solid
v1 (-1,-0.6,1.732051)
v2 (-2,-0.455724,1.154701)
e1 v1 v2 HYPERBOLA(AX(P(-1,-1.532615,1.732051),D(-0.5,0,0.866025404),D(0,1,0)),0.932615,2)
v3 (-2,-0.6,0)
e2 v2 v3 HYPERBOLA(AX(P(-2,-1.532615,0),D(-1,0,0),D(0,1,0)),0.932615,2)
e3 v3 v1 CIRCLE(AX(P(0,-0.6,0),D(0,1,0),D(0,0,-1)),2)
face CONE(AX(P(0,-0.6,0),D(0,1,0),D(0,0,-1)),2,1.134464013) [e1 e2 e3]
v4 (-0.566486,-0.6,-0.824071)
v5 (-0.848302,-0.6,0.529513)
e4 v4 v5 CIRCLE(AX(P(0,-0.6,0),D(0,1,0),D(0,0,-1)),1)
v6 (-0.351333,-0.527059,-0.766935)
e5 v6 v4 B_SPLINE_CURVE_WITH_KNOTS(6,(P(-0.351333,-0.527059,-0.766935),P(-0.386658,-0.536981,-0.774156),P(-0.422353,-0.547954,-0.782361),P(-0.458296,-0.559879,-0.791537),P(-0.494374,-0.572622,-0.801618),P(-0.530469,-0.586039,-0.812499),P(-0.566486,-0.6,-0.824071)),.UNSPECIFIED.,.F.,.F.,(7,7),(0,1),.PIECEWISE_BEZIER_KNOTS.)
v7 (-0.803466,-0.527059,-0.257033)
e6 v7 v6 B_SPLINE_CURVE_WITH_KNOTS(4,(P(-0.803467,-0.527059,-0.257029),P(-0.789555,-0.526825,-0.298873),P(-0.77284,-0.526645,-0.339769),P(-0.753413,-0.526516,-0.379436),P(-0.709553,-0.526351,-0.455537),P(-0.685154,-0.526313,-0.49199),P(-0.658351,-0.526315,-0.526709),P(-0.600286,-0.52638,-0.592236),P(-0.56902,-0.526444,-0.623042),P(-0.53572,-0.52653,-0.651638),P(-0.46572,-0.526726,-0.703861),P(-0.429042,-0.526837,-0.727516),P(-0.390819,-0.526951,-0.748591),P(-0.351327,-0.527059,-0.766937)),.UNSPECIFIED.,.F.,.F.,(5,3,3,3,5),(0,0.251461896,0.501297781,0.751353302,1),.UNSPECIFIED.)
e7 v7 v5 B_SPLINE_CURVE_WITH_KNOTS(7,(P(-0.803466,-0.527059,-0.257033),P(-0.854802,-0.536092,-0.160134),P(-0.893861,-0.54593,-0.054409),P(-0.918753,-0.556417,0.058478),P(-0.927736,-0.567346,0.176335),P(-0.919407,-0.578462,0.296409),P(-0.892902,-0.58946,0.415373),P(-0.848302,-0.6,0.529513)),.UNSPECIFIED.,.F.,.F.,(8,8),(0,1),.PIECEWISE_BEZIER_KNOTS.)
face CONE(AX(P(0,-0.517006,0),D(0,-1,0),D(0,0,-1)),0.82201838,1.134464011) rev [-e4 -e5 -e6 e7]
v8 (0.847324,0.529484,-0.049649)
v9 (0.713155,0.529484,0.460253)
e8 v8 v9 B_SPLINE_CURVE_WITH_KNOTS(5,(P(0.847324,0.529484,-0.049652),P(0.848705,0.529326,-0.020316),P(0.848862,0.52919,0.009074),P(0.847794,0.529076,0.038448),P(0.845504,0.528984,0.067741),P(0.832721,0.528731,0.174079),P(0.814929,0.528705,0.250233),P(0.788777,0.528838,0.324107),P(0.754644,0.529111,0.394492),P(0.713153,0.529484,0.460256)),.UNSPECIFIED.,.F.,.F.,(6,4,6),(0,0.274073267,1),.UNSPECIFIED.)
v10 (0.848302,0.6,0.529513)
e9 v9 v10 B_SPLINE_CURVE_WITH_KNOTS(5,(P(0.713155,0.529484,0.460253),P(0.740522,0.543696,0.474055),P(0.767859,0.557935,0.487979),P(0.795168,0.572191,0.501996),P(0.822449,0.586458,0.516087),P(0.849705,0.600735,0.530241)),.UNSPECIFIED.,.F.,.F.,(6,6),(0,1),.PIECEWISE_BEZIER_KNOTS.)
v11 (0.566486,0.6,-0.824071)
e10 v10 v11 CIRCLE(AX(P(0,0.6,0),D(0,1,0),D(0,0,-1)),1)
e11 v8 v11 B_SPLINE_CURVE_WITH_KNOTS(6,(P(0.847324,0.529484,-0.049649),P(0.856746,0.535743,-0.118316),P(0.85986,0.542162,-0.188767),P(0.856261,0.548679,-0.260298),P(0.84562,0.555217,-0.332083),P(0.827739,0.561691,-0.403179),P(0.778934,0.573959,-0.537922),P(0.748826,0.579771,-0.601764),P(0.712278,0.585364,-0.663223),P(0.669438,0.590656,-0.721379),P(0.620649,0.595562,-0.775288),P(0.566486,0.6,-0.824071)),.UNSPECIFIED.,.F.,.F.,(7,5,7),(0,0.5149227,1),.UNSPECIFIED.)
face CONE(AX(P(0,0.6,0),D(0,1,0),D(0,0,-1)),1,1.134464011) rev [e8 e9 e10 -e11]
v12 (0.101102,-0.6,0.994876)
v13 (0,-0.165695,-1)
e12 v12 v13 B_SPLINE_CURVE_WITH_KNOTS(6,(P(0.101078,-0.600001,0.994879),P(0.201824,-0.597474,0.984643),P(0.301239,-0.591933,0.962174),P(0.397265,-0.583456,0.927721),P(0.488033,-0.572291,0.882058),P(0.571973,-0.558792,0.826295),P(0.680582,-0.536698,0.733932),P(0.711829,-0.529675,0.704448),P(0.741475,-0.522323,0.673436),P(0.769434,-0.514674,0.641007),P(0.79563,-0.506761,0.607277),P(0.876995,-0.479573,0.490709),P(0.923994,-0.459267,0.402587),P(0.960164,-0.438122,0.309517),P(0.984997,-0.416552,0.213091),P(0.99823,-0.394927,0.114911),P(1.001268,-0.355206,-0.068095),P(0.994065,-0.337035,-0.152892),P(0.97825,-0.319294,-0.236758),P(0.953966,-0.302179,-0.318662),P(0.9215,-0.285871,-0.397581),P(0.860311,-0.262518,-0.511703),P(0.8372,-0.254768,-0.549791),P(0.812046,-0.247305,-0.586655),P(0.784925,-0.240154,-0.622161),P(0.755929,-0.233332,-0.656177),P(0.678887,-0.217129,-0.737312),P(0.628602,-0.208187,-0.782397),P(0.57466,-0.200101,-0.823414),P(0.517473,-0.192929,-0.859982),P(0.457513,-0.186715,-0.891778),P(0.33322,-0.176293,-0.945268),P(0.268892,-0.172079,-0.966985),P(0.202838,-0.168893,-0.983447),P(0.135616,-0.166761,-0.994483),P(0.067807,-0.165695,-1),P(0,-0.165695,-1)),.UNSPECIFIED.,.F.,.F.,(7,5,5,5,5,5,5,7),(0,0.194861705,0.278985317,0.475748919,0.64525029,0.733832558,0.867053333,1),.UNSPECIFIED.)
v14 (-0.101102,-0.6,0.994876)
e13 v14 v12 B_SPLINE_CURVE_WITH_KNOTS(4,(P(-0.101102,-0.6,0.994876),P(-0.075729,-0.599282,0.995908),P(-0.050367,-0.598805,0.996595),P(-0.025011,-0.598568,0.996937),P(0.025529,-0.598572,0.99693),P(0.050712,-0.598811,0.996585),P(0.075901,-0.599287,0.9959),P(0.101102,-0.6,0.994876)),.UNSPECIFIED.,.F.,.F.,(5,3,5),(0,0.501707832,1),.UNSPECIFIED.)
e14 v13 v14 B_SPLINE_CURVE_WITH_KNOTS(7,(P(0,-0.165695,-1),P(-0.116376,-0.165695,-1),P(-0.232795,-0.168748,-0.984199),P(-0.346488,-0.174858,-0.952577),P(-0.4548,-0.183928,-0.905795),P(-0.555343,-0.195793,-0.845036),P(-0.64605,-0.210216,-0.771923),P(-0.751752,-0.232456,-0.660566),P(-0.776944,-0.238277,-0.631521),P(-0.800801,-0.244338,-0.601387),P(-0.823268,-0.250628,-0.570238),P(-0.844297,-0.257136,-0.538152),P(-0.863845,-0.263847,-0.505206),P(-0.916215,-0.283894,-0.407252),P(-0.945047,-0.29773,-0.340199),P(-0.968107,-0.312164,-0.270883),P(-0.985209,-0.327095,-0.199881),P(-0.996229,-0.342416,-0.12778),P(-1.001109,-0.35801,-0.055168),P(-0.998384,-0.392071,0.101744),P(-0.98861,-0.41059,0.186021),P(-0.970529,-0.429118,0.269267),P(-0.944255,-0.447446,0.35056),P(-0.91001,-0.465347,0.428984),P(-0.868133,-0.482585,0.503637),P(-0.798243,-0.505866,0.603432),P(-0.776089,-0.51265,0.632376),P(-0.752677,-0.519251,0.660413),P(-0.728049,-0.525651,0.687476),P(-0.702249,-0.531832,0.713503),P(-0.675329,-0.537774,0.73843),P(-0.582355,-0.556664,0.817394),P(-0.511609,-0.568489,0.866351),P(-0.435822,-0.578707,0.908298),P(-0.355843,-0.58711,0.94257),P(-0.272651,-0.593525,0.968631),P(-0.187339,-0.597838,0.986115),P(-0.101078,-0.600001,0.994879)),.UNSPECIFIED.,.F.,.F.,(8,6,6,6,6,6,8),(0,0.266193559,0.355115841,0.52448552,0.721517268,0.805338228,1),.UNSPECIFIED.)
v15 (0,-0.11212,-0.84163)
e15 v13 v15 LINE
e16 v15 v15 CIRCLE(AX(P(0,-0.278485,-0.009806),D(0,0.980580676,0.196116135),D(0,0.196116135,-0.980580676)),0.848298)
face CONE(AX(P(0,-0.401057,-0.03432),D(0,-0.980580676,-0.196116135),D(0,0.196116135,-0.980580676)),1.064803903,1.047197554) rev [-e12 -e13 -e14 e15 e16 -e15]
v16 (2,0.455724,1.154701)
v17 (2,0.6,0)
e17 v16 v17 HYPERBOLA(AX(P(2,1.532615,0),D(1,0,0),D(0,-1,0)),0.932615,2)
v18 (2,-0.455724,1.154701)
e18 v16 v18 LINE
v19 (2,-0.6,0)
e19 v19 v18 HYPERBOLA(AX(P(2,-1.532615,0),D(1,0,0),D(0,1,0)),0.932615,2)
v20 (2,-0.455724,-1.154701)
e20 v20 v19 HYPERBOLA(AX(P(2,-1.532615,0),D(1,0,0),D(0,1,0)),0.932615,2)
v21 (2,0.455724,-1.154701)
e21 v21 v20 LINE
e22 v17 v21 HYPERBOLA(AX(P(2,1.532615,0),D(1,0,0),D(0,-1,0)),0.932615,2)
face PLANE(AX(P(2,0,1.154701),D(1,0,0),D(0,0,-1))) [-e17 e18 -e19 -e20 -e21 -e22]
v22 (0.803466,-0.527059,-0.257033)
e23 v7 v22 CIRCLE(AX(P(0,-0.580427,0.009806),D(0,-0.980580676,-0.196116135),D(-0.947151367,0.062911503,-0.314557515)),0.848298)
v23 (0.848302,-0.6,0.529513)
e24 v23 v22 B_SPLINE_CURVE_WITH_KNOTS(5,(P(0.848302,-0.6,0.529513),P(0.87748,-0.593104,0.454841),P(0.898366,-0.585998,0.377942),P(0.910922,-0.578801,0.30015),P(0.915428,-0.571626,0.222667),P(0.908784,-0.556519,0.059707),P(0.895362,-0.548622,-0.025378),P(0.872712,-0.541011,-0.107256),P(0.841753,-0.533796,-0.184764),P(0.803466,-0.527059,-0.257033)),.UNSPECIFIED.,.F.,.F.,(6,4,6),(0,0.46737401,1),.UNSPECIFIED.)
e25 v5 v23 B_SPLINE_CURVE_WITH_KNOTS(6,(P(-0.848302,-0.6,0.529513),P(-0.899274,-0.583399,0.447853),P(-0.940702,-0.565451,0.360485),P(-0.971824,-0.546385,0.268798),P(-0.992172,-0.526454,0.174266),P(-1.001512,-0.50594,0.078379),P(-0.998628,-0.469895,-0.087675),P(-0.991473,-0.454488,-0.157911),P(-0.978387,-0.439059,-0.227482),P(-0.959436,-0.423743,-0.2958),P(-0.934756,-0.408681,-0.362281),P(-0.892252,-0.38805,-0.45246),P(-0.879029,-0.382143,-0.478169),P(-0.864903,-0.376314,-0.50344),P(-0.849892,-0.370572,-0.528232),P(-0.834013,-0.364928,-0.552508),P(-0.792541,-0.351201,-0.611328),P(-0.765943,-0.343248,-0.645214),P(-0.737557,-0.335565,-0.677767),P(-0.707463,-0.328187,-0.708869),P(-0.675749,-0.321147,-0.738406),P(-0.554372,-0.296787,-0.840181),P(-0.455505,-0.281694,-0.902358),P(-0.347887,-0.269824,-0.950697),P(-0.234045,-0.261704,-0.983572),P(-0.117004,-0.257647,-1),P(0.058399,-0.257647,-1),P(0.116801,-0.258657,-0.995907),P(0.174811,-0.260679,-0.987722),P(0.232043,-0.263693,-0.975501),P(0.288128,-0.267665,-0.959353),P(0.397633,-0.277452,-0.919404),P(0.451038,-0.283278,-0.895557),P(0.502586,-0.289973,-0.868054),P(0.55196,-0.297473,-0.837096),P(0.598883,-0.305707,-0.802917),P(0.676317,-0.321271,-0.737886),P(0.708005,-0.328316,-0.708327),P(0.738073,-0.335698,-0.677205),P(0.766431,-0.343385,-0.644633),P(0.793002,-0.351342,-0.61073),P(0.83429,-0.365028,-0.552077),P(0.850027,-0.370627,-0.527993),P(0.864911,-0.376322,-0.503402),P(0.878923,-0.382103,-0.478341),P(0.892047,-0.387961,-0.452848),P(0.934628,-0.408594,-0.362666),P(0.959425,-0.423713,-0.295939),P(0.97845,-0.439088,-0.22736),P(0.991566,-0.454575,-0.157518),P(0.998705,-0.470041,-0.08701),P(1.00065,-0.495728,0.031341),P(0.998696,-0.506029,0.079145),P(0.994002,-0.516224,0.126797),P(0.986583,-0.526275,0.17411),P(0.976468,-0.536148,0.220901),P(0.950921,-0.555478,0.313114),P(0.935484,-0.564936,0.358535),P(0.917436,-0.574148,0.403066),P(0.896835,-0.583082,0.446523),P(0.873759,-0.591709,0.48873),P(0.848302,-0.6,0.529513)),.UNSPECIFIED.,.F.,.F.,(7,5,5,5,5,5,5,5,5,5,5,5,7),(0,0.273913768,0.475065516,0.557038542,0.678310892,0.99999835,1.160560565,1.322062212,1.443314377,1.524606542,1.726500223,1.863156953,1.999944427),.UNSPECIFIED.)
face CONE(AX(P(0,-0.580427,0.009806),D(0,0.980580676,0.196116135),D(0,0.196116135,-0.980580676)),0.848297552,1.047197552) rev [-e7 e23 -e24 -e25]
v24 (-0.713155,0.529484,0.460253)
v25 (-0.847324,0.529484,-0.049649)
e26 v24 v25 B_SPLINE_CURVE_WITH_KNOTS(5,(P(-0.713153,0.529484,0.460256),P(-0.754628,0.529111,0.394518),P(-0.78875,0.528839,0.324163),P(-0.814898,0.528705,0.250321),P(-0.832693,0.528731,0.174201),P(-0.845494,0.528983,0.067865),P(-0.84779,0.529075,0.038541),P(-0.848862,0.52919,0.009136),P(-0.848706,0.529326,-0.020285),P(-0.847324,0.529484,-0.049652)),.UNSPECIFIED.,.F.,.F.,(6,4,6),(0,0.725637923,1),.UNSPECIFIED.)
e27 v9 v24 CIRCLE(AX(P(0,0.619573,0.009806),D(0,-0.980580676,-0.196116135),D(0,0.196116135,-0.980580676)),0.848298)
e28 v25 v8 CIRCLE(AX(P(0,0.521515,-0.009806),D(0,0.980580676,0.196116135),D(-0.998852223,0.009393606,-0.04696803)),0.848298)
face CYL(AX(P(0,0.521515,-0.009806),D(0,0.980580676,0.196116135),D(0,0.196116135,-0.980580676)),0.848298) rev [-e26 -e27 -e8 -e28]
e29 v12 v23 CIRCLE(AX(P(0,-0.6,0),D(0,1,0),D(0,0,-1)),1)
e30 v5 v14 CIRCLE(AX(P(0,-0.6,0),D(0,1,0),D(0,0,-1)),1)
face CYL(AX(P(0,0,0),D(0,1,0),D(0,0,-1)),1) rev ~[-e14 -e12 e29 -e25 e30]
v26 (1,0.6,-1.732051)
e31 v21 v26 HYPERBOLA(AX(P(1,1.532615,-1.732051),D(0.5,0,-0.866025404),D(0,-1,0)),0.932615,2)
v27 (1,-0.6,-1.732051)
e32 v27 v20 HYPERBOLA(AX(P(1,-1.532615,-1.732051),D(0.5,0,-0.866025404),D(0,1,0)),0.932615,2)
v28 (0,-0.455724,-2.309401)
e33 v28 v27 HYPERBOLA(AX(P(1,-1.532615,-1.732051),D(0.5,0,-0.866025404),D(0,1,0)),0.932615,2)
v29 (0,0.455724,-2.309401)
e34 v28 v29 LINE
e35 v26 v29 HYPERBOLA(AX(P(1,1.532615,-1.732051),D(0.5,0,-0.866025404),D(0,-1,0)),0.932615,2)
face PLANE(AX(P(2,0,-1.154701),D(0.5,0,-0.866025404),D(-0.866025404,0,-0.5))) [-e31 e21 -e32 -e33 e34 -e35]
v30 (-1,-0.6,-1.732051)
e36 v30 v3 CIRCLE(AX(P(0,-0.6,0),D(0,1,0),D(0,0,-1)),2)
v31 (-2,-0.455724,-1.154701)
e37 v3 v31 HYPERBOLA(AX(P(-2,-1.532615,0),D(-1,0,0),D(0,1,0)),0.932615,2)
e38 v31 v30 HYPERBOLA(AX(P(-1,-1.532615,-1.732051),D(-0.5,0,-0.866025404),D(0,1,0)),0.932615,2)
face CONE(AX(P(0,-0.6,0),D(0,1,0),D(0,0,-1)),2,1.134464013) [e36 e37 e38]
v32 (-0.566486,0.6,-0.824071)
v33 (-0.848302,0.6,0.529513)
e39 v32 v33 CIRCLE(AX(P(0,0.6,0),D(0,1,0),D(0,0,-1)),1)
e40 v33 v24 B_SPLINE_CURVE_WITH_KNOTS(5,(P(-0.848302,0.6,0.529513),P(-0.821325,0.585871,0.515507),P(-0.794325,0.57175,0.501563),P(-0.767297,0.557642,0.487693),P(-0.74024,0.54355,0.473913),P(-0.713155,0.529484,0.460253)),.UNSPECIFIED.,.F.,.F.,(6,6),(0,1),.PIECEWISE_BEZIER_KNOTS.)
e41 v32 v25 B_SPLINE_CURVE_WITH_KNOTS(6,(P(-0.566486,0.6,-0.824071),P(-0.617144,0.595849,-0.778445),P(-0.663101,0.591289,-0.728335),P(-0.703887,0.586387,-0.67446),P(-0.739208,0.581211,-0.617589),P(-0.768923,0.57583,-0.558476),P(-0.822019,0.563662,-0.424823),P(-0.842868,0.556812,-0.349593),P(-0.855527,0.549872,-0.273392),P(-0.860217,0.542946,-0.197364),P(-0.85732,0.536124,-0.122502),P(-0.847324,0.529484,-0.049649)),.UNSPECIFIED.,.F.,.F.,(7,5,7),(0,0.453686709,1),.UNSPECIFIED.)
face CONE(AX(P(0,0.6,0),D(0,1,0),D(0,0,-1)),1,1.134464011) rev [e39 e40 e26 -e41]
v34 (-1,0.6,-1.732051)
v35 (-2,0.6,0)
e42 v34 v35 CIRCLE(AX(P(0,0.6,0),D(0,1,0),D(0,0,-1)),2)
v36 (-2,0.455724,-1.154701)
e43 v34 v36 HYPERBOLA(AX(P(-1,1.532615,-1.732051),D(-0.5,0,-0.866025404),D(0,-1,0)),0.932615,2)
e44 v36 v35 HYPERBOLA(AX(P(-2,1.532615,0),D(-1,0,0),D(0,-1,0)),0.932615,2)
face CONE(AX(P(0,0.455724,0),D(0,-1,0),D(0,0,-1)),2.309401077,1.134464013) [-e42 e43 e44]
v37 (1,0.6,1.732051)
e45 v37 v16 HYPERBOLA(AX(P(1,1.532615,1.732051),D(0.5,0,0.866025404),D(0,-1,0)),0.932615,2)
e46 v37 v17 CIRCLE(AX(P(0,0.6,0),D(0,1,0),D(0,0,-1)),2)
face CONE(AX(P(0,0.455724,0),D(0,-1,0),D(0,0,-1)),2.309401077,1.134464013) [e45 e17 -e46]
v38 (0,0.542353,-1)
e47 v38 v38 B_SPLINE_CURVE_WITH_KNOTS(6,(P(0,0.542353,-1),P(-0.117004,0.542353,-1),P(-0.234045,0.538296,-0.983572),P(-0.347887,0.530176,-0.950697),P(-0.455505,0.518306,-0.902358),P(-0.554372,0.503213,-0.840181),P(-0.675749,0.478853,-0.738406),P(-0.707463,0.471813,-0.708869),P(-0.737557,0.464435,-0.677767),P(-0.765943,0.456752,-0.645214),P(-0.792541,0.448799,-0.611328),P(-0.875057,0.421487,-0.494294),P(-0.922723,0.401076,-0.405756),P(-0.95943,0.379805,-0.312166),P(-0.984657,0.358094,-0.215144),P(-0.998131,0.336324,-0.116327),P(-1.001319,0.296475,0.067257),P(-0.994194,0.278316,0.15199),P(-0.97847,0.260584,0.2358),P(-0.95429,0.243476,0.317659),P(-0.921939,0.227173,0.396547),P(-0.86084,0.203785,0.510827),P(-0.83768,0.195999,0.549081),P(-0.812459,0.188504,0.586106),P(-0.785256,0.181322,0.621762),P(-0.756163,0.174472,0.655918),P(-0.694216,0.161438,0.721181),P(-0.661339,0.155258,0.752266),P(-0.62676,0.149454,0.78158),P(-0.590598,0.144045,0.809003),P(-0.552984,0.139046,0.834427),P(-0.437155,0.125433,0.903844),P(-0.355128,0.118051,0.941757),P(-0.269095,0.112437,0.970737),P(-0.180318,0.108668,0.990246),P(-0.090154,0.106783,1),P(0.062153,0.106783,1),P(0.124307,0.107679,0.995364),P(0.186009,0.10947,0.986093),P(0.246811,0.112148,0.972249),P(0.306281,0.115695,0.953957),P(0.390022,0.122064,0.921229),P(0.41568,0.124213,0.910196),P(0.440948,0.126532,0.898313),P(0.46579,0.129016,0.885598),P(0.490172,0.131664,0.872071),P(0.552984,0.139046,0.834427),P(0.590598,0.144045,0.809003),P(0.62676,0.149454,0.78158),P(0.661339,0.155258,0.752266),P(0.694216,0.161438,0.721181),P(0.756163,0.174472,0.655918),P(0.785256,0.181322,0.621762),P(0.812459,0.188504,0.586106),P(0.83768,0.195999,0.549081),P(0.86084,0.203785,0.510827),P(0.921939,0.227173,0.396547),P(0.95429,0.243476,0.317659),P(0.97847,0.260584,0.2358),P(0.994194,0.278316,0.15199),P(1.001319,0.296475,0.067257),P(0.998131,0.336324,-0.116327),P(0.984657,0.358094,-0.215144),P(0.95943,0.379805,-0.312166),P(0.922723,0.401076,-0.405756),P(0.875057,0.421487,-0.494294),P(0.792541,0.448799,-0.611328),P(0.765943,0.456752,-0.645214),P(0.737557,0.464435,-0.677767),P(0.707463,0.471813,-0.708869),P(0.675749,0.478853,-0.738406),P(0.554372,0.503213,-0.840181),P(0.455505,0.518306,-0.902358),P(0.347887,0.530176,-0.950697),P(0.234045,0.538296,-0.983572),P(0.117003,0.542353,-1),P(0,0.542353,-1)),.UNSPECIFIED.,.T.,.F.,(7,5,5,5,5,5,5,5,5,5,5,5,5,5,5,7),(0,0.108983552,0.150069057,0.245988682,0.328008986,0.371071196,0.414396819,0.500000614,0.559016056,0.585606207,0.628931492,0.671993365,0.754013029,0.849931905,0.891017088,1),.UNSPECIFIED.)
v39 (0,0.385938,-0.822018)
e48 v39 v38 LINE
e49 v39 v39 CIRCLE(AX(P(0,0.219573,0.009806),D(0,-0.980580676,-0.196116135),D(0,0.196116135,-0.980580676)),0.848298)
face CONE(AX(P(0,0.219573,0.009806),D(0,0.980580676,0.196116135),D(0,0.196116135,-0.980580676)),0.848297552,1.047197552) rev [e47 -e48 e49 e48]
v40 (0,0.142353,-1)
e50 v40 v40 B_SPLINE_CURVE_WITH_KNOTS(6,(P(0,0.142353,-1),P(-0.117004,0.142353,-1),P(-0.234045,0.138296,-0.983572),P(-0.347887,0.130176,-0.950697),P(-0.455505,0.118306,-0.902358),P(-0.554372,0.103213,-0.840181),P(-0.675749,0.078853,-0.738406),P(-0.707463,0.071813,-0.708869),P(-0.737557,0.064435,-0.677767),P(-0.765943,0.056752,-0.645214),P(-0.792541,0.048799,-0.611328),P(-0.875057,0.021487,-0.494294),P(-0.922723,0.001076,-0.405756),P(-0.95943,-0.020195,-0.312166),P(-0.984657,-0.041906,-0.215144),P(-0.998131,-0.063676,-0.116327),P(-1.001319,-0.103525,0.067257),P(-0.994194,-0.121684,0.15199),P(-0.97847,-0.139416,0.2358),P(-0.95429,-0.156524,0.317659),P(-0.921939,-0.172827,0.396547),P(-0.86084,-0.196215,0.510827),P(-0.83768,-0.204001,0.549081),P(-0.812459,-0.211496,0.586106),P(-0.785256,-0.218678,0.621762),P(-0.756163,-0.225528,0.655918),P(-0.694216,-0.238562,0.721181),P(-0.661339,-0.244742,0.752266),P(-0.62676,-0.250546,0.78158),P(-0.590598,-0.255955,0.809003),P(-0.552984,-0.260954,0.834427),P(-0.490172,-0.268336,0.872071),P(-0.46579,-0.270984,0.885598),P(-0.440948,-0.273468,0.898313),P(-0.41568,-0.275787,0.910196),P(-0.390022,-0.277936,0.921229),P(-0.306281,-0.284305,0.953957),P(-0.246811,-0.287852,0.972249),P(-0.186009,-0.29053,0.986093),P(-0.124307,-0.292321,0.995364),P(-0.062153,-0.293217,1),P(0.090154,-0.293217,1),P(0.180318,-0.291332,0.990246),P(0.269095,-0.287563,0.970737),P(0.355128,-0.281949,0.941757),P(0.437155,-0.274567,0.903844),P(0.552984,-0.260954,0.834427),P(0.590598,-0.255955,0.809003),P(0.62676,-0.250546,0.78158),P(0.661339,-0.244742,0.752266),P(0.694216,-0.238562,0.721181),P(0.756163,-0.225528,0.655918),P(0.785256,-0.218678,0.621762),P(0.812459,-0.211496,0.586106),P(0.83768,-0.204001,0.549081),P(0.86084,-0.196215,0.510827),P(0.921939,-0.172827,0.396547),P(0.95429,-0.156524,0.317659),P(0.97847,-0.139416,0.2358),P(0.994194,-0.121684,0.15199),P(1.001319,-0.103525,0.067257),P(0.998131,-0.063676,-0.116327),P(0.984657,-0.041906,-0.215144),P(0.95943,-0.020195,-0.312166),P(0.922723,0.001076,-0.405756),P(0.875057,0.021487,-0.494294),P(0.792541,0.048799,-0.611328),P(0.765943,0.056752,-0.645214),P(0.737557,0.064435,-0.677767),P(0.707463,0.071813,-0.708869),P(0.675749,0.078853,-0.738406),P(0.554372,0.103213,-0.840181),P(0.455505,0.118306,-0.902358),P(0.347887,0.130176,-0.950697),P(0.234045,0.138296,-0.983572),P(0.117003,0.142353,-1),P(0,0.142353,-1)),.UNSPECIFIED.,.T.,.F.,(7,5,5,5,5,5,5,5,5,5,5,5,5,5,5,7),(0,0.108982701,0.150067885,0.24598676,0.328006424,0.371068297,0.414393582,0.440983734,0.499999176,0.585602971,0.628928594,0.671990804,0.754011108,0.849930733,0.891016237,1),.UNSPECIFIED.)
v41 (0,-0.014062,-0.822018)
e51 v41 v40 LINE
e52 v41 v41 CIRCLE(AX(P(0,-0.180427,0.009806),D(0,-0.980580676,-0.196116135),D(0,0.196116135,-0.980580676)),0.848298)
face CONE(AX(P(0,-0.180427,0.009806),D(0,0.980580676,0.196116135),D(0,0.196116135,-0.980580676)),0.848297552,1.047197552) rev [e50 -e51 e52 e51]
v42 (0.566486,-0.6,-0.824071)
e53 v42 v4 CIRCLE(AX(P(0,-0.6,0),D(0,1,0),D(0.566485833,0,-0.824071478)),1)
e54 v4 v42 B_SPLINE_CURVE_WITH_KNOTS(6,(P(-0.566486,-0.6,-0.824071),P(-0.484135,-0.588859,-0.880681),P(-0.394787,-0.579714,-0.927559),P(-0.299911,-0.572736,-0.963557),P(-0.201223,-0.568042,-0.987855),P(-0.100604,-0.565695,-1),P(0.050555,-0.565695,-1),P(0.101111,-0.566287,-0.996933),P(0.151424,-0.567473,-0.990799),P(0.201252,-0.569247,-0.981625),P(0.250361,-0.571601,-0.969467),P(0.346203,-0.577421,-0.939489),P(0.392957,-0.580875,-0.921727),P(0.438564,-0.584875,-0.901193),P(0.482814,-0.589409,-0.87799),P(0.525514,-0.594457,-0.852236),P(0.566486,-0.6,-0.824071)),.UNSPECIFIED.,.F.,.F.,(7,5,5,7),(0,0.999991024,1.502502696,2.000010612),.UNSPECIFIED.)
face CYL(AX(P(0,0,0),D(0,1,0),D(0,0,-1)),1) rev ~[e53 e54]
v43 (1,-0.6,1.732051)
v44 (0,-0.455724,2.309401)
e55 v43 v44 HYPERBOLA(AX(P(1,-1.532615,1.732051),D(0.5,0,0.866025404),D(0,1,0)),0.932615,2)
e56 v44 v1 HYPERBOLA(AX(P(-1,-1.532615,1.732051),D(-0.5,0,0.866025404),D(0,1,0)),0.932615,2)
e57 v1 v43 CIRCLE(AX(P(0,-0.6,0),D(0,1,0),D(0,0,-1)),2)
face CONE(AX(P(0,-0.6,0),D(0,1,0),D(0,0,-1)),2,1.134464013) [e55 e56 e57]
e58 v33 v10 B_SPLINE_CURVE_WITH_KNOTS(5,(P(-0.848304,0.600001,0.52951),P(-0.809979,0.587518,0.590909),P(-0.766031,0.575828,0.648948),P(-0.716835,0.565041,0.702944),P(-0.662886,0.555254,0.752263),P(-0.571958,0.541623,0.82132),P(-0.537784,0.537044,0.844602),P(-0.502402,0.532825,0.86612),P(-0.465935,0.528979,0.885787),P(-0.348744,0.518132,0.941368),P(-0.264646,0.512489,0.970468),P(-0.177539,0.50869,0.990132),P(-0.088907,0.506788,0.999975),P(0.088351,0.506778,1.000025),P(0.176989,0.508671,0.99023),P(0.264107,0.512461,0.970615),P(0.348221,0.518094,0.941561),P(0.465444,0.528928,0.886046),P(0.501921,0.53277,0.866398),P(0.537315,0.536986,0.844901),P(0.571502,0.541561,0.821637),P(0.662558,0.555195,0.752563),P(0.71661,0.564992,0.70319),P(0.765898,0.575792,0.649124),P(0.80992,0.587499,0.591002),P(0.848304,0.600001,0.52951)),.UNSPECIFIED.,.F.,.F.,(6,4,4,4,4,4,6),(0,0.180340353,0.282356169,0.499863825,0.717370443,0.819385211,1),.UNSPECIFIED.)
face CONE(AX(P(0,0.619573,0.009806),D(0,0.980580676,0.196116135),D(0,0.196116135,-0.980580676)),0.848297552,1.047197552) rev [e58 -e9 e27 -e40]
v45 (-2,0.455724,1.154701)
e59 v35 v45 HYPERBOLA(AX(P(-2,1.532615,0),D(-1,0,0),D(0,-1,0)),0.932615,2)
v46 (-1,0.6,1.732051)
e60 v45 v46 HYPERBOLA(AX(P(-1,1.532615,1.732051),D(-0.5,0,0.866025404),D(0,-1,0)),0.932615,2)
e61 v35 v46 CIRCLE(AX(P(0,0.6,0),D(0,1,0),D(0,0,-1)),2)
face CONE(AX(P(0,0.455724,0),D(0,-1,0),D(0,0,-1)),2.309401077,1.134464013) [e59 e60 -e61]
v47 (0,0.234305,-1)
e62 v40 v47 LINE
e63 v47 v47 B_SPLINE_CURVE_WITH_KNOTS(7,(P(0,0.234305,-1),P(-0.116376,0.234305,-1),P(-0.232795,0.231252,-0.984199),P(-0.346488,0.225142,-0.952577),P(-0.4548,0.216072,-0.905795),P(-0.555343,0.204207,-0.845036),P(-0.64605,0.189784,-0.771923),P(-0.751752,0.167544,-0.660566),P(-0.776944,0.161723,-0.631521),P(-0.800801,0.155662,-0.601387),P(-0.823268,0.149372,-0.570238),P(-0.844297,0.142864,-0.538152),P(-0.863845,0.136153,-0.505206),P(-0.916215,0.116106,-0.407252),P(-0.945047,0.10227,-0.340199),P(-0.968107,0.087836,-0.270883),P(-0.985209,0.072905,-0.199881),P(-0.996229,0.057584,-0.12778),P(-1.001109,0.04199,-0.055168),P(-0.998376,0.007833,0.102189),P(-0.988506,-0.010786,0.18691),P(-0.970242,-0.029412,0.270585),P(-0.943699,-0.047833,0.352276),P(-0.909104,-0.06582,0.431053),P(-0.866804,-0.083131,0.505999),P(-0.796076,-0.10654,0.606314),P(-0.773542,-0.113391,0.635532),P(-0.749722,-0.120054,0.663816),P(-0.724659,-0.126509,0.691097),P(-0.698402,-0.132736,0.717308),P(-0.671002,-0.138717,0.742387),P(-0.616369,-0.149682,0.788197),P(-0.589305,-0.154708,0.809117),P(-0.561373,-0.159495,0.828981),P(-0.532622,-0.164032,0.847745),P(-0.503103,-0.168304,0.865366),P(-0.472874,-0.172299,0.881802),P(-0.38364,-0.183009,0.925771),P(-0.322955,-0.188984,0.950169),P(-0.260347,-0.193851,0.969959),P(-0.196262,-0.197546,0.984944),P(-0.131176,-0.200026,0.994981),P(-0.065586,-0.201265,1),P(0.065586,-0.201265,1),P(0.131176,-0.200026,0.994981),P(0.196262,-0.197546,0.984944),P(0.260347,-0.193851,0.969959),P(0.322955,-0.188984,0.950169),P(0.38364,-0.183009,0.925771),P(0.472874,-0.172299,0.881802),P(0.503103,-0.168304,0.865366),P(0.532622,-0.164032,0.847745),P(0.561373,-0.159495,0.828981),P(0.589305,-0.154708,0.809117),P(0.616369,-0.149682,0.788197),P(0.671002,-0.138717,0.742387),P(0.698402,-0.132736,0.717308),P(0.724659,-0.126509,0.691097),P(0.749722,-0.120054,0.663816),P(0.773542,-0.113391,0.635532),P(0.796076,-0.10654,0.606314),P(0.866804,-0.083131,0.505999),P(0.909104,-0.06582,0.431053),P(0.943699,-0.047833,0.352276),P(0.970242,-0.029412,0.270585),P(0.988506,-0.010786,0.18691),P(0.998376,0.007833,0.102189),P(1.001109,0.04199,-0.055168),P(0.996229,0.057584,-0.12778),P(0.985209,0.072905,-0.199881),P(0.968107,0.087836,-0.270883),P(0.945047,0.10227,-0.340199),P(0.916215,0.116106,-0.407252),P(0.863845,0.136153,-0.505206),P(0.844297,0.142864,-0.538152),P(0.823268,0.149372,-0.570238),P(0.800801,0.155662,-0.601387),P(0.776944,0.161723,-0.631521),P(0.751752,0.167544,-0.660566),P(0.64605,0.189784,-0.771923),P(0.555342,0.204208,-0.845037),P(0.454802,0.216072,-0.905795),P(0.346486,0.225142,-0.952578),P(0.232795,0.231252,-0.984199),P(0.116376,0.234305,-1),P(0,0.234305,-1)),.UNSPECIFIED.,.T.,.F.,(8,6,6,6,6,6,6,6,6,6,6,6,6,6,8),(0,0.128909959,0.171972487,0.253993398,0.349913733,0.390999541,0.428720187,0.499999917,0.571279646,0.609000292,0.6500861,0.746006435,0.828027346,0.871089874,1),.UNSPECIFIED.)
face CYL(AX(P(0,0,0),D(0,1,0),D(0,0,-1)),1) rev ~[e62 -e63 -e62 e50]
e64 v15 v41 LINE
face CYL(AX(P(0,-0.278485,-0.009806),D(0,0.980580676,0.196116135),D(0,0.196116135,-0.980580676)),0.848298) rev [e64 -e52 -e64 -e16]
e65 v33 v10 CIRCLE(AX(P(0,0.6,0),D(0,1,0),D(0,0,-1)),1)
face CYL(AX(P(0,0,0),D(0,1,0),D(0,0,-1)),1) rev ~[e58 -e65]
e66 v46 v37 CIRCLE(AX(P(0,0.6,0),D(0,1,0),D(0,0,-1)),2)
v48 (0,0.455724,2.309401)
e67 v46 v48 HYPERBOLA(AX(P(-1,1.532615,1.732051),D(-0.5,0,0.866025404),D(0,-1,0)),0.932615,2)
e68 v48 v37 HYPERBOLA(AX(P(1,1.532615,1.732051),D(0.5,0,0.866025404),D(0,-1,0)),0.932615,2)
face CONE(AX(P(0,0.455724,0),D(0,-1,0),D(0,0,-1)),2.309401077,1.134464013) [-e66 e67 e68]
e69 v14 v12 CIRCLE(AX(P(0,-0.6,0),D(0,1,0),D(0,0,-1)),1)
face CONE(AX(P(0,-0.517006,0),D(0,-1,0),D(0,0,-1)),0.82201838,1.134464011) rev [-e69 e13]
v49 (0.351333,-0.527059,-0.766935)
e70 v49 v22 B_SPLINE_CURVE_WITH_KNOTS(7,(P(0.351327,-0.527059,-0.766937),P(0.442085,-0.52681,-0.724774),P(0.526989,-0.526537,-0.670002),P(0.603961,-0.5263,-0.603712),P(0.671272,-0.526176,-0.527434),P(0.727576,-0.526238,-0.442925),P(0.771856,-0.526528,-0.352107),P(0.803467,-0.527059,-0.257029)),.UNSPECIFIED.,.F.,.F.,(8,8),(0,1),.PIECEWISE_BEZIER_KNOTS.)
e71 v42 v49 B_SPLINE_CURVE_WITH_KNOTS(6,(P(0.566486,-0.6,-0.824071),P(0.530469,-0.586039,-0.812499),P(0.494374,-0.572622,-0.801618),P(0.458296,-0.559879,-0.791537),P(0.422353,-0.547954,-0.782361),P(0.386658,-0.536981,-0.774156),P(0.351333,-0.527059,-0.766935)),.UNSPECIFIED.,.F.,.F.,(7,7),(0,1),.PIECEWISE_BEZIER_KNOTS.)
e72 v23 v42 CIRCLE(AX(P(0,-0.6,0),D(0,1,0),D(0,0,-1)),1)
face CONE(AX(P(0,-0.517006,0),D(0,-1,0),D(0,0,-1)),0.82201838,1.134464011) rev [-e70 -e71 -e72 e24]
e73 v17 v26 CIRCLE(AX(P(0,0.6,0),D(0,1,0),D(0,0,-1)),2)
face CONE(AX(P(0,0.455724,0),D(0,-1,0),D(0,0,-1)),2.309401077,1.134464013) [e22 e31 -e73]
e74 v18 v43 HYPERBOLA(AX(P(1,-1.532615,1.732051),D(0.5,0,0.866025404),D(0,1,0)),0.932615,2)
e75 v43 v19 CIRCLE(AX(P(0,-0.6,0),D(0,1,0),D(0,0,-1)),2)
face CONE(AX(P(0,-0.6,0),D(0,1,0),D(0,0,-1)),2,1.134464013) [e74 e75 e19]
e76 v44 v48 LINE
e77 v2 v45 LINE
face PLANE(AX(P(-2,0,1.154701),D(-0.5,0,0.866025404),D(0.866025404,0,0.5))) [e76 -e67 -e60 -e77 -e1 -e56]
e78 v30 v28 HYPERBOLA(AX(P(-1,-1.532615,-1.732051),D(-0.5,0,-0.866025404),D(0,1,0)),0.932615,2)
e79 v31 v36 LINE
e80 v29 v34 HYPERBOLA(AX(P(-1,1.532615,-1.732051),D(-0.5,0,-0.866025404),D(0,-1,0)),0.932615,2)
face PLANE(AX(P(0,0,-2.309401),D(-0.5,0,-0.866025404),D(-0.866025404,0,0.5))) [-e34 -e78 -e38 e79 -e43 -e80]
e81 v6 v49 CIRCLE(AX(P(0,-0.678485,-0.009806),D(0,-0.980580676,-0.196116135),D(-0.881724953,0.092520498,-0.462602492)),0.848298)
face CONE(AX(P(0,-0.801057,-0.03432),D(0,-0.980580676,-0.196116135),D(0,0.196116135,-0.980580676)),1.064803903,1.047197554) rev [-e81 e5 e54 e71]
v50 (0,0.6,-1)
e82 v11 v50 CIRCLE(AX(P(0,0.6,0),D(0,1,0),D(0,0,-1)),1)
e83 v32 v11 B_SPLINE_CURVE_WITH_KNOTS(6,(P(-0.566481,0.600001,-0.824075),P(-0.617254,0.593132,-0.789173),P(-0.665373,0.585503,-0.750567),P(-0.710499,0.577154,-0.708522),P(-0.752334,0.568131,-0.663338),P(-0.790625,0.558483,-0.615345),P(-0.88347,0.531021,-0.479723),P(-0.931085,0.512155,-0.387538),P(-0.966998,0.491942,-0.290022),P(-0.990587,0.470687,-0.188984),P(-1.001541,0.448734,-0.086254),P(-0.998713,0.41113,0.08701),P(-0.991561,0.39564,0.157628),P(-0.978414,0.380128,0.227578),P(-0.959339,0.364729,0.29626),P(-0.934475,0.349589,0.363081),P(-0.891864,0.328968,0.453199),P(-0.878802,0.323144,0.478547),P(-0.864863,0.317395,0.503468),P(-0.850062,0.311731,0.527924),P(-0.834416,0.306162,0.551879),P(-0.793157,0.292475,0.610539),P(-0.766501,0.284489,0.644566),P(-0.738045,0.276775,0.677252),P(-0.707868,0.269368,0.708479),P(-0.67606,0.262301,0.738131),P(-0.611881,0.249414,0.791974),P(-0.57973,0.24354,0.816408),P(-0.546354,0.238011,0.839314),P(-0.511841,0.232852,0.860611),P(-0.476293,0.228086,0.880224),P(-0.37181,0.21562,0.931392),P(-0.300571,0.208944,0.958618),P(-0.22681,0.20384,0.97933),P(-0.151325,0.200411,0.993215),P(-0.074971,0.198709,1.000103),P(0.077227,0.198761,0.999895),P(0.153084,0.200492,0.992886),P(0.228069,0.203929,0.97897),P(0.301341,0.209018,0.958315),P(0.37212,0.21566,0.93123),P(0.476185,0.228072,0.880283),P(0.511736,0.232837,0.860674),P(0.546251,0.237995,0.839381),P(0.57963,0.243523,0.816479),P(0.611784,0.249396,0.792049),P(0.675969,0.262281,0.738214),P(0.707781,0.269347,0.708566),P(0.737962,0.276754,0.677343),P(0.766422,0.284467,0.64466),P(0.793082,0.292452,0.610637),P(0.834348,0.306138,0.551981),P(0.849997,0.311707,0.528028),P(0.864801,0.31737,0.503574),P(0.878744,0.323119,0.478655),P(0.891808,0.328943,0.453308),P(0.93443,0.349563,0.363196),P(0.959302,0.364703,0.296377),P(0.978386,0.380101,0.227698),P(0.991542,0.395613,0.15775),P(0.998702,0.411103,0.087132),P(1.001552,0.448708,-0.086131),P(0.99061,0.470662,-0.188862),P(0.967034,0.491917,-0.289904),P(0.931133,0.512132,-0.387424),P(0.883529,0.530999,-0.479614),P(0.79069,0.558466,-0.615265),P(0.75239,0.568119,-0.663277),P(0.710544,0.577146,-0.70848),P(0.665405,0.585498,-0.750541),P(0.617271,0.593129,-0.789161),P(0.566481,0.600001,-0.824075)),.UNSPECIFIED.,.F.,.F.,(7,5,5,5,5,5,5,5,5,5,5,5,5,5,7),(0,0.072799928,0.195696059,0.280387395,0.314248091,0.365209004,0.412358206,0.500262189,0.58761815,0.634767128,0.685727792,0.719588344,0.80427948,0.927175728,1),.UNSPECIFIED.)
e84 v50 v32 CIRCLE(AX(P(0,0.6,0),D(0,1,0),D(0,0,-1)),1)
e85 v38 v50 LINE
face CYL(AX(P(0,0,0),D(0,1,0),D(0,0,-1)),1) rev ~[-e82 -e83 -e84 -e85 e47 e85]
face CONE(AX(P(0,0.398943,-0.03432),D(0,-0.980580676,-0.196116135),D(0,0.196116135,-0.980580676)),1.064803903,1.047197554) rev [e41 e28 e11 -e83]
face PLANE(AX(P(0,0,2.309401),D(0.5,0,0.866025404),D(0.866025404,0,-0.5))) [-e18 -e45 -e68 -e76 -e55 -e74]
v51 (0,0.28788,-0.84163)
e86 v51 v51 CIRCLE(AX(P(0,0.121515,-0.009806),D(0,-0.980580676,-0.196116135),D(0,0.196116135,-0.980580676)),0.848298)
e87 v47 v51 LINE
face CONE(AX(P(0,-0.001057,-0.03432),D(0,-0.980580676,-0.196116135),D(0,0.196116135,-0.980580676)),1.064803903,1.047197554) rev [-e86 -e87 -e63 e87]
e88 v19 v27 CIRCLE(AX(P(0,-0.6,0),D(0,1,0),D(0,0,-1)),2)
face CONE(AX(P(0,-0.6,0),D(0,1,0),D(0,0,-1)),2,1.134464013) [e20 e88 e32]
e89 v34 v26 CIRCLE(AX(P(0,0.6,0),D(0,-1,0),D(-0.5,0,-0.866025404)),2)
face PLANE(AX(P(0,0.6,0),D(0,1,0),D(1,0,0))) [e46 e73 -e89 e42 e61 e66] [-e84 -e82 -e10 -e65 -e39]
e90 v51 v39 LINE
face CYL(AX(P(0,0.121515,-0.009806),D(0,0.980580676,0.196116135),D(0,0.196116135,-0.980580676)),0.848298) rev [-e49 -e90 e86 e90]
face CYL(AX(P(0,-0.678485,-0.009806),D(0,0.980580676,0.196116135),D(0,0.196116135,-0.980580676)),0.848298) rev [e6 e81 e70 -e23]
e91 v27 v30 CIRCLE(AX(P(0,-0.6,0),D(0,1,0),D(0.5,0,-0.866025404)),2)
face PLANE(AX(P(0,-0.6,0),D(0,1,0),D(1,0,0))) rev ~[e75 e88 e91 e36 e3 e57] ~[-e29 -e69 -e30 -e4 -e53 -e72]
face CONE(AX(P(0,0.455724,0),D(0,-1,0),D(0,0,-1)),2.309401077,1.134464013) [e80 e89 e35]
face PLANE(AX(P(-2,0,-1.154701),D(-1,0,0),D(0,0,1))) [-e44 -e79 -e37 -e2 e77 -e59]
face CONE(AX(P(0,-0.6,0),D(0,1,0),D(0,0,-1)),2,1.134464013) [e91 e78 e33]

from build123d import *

# Parameters (mm, degrees)
EXTRUDE1_DEPTH      = 0.6
SKETCH2_W           = 1
SKETCH2_H           = 1.2
LPATTERN1_COUNT     = 3
LPATTERN1_PITCH     = 0.4
LPATTERN1_COL_COUNT = 2
LPATTERN1_COL_PITCH = 0.4


with BuildPart() as part:
    # Sketch1 → Extrude1 (new body, symmetric)
    with BuildSketch(Plane(origin=(0, 0, 0), x_dir=(1, 0, 0), z_dir=(0, 1, 0))):
        Polygon((0, 2.309401077), (-2, 1.154700538), (-2, -1.154700538), (0, -2.309401077), (2, -1.154700538), (2, 1.154700538), align=None)
    extrude(amount=EXTRUDE1_DEPTH, both=True)

    # Sketch4 → Cut-Revolve2 (revolve, cut)
    with BuildSketch(Plane(origin=(0, 0, 0), x_dir=(0, 0, -1), z_dir=(1, 0, 0))):
        Polygon((0, 0.6), (1, 0.6), (0.82201838, 0.517005807), (0.82201838, -0.517005807), (1, -0.6), (0, -0.6), align=None)
    revolve(axis=Axis((0, 0.6, 0), (0, 1, 0)), mode=Mode.SUBTRACT)


with BuildPart() as body_2:
    # Sketch2 → Revolve1 (revolve)
    with BuildSketch(Plane(origin=(0, 0, 0), x_dir=(0, 0, -1), z_dir=(1, 0, 0))):
        with Locations((0.5, 0)):
            Rectangle(SKETCH2_W, SKETCH2_H)
    revolve(axis=Axis((0, -1.6, 0), (0, 1, 0)))

    # Sketch3 → Cut-Revolve1 (revolve, cut)
    with BuildSketch(Plane(origin=(0, 0, 0), x_dir=(0, 0, -1), z_dir=(1, 0, 0))):
        Polygon((1.009805807, 0.550970966), (1.078446454, 0.20776773), (0.841629993, 0.287879925), (0.82201838, 0.385937993), align=None)
    cut_revolve1 = revolve(axis=Axis((0, 0.6, 0.085891176), (0, -0.980580676, -0.196116135)), mode=Mode.SUBTRACT)

    # LPattern1: Cut-Revolve1 ×3
    with Locations(*[(0, -i * LPATTERN1_PITCH, 0) for i in range(1, LPATTERN1_COUNT)]):
        add(cut_revolve1, mode=Mode.SUBTRACT)

    # LPattern1 col: Cut-Revolve1 ×2
    with Locations(*[(0, i * LPATTERN1_COL_PITCH, 0) for i in range(1, LPATTERN1_COL_COUNT)]):
        add(cut_revolve1, mode=Mode.SUBTRACT)


with BuildPart() as part_1:
    add(part.part)

    # Combine1: cut body 2
    add(body_2.part, mode=Mode.SUBTRACT)

    # Sketch5 → Cut-Revolve3 (revolve, cut)
    with BuildSketch(Plane(origin=(0, 0, 0), x_dir=(0, 0, -1), z_dir=(1, 0, 0))):
        Polygon((0, -0.6), (2, -0.6), (2.309401077, -0.455723908), (2.309401077, 0.455723908), (2, 0.6), (0, 0.6), (0, 1.87), (3.579401077, 1.87), (3.579401077, -1.87), (0, -1.87), align=None)
    revolve(axis=Axis((0, -0.6, 0), (0, 1, 0)), mode=Mode.SUBTRACT)


solid = part_1.part
